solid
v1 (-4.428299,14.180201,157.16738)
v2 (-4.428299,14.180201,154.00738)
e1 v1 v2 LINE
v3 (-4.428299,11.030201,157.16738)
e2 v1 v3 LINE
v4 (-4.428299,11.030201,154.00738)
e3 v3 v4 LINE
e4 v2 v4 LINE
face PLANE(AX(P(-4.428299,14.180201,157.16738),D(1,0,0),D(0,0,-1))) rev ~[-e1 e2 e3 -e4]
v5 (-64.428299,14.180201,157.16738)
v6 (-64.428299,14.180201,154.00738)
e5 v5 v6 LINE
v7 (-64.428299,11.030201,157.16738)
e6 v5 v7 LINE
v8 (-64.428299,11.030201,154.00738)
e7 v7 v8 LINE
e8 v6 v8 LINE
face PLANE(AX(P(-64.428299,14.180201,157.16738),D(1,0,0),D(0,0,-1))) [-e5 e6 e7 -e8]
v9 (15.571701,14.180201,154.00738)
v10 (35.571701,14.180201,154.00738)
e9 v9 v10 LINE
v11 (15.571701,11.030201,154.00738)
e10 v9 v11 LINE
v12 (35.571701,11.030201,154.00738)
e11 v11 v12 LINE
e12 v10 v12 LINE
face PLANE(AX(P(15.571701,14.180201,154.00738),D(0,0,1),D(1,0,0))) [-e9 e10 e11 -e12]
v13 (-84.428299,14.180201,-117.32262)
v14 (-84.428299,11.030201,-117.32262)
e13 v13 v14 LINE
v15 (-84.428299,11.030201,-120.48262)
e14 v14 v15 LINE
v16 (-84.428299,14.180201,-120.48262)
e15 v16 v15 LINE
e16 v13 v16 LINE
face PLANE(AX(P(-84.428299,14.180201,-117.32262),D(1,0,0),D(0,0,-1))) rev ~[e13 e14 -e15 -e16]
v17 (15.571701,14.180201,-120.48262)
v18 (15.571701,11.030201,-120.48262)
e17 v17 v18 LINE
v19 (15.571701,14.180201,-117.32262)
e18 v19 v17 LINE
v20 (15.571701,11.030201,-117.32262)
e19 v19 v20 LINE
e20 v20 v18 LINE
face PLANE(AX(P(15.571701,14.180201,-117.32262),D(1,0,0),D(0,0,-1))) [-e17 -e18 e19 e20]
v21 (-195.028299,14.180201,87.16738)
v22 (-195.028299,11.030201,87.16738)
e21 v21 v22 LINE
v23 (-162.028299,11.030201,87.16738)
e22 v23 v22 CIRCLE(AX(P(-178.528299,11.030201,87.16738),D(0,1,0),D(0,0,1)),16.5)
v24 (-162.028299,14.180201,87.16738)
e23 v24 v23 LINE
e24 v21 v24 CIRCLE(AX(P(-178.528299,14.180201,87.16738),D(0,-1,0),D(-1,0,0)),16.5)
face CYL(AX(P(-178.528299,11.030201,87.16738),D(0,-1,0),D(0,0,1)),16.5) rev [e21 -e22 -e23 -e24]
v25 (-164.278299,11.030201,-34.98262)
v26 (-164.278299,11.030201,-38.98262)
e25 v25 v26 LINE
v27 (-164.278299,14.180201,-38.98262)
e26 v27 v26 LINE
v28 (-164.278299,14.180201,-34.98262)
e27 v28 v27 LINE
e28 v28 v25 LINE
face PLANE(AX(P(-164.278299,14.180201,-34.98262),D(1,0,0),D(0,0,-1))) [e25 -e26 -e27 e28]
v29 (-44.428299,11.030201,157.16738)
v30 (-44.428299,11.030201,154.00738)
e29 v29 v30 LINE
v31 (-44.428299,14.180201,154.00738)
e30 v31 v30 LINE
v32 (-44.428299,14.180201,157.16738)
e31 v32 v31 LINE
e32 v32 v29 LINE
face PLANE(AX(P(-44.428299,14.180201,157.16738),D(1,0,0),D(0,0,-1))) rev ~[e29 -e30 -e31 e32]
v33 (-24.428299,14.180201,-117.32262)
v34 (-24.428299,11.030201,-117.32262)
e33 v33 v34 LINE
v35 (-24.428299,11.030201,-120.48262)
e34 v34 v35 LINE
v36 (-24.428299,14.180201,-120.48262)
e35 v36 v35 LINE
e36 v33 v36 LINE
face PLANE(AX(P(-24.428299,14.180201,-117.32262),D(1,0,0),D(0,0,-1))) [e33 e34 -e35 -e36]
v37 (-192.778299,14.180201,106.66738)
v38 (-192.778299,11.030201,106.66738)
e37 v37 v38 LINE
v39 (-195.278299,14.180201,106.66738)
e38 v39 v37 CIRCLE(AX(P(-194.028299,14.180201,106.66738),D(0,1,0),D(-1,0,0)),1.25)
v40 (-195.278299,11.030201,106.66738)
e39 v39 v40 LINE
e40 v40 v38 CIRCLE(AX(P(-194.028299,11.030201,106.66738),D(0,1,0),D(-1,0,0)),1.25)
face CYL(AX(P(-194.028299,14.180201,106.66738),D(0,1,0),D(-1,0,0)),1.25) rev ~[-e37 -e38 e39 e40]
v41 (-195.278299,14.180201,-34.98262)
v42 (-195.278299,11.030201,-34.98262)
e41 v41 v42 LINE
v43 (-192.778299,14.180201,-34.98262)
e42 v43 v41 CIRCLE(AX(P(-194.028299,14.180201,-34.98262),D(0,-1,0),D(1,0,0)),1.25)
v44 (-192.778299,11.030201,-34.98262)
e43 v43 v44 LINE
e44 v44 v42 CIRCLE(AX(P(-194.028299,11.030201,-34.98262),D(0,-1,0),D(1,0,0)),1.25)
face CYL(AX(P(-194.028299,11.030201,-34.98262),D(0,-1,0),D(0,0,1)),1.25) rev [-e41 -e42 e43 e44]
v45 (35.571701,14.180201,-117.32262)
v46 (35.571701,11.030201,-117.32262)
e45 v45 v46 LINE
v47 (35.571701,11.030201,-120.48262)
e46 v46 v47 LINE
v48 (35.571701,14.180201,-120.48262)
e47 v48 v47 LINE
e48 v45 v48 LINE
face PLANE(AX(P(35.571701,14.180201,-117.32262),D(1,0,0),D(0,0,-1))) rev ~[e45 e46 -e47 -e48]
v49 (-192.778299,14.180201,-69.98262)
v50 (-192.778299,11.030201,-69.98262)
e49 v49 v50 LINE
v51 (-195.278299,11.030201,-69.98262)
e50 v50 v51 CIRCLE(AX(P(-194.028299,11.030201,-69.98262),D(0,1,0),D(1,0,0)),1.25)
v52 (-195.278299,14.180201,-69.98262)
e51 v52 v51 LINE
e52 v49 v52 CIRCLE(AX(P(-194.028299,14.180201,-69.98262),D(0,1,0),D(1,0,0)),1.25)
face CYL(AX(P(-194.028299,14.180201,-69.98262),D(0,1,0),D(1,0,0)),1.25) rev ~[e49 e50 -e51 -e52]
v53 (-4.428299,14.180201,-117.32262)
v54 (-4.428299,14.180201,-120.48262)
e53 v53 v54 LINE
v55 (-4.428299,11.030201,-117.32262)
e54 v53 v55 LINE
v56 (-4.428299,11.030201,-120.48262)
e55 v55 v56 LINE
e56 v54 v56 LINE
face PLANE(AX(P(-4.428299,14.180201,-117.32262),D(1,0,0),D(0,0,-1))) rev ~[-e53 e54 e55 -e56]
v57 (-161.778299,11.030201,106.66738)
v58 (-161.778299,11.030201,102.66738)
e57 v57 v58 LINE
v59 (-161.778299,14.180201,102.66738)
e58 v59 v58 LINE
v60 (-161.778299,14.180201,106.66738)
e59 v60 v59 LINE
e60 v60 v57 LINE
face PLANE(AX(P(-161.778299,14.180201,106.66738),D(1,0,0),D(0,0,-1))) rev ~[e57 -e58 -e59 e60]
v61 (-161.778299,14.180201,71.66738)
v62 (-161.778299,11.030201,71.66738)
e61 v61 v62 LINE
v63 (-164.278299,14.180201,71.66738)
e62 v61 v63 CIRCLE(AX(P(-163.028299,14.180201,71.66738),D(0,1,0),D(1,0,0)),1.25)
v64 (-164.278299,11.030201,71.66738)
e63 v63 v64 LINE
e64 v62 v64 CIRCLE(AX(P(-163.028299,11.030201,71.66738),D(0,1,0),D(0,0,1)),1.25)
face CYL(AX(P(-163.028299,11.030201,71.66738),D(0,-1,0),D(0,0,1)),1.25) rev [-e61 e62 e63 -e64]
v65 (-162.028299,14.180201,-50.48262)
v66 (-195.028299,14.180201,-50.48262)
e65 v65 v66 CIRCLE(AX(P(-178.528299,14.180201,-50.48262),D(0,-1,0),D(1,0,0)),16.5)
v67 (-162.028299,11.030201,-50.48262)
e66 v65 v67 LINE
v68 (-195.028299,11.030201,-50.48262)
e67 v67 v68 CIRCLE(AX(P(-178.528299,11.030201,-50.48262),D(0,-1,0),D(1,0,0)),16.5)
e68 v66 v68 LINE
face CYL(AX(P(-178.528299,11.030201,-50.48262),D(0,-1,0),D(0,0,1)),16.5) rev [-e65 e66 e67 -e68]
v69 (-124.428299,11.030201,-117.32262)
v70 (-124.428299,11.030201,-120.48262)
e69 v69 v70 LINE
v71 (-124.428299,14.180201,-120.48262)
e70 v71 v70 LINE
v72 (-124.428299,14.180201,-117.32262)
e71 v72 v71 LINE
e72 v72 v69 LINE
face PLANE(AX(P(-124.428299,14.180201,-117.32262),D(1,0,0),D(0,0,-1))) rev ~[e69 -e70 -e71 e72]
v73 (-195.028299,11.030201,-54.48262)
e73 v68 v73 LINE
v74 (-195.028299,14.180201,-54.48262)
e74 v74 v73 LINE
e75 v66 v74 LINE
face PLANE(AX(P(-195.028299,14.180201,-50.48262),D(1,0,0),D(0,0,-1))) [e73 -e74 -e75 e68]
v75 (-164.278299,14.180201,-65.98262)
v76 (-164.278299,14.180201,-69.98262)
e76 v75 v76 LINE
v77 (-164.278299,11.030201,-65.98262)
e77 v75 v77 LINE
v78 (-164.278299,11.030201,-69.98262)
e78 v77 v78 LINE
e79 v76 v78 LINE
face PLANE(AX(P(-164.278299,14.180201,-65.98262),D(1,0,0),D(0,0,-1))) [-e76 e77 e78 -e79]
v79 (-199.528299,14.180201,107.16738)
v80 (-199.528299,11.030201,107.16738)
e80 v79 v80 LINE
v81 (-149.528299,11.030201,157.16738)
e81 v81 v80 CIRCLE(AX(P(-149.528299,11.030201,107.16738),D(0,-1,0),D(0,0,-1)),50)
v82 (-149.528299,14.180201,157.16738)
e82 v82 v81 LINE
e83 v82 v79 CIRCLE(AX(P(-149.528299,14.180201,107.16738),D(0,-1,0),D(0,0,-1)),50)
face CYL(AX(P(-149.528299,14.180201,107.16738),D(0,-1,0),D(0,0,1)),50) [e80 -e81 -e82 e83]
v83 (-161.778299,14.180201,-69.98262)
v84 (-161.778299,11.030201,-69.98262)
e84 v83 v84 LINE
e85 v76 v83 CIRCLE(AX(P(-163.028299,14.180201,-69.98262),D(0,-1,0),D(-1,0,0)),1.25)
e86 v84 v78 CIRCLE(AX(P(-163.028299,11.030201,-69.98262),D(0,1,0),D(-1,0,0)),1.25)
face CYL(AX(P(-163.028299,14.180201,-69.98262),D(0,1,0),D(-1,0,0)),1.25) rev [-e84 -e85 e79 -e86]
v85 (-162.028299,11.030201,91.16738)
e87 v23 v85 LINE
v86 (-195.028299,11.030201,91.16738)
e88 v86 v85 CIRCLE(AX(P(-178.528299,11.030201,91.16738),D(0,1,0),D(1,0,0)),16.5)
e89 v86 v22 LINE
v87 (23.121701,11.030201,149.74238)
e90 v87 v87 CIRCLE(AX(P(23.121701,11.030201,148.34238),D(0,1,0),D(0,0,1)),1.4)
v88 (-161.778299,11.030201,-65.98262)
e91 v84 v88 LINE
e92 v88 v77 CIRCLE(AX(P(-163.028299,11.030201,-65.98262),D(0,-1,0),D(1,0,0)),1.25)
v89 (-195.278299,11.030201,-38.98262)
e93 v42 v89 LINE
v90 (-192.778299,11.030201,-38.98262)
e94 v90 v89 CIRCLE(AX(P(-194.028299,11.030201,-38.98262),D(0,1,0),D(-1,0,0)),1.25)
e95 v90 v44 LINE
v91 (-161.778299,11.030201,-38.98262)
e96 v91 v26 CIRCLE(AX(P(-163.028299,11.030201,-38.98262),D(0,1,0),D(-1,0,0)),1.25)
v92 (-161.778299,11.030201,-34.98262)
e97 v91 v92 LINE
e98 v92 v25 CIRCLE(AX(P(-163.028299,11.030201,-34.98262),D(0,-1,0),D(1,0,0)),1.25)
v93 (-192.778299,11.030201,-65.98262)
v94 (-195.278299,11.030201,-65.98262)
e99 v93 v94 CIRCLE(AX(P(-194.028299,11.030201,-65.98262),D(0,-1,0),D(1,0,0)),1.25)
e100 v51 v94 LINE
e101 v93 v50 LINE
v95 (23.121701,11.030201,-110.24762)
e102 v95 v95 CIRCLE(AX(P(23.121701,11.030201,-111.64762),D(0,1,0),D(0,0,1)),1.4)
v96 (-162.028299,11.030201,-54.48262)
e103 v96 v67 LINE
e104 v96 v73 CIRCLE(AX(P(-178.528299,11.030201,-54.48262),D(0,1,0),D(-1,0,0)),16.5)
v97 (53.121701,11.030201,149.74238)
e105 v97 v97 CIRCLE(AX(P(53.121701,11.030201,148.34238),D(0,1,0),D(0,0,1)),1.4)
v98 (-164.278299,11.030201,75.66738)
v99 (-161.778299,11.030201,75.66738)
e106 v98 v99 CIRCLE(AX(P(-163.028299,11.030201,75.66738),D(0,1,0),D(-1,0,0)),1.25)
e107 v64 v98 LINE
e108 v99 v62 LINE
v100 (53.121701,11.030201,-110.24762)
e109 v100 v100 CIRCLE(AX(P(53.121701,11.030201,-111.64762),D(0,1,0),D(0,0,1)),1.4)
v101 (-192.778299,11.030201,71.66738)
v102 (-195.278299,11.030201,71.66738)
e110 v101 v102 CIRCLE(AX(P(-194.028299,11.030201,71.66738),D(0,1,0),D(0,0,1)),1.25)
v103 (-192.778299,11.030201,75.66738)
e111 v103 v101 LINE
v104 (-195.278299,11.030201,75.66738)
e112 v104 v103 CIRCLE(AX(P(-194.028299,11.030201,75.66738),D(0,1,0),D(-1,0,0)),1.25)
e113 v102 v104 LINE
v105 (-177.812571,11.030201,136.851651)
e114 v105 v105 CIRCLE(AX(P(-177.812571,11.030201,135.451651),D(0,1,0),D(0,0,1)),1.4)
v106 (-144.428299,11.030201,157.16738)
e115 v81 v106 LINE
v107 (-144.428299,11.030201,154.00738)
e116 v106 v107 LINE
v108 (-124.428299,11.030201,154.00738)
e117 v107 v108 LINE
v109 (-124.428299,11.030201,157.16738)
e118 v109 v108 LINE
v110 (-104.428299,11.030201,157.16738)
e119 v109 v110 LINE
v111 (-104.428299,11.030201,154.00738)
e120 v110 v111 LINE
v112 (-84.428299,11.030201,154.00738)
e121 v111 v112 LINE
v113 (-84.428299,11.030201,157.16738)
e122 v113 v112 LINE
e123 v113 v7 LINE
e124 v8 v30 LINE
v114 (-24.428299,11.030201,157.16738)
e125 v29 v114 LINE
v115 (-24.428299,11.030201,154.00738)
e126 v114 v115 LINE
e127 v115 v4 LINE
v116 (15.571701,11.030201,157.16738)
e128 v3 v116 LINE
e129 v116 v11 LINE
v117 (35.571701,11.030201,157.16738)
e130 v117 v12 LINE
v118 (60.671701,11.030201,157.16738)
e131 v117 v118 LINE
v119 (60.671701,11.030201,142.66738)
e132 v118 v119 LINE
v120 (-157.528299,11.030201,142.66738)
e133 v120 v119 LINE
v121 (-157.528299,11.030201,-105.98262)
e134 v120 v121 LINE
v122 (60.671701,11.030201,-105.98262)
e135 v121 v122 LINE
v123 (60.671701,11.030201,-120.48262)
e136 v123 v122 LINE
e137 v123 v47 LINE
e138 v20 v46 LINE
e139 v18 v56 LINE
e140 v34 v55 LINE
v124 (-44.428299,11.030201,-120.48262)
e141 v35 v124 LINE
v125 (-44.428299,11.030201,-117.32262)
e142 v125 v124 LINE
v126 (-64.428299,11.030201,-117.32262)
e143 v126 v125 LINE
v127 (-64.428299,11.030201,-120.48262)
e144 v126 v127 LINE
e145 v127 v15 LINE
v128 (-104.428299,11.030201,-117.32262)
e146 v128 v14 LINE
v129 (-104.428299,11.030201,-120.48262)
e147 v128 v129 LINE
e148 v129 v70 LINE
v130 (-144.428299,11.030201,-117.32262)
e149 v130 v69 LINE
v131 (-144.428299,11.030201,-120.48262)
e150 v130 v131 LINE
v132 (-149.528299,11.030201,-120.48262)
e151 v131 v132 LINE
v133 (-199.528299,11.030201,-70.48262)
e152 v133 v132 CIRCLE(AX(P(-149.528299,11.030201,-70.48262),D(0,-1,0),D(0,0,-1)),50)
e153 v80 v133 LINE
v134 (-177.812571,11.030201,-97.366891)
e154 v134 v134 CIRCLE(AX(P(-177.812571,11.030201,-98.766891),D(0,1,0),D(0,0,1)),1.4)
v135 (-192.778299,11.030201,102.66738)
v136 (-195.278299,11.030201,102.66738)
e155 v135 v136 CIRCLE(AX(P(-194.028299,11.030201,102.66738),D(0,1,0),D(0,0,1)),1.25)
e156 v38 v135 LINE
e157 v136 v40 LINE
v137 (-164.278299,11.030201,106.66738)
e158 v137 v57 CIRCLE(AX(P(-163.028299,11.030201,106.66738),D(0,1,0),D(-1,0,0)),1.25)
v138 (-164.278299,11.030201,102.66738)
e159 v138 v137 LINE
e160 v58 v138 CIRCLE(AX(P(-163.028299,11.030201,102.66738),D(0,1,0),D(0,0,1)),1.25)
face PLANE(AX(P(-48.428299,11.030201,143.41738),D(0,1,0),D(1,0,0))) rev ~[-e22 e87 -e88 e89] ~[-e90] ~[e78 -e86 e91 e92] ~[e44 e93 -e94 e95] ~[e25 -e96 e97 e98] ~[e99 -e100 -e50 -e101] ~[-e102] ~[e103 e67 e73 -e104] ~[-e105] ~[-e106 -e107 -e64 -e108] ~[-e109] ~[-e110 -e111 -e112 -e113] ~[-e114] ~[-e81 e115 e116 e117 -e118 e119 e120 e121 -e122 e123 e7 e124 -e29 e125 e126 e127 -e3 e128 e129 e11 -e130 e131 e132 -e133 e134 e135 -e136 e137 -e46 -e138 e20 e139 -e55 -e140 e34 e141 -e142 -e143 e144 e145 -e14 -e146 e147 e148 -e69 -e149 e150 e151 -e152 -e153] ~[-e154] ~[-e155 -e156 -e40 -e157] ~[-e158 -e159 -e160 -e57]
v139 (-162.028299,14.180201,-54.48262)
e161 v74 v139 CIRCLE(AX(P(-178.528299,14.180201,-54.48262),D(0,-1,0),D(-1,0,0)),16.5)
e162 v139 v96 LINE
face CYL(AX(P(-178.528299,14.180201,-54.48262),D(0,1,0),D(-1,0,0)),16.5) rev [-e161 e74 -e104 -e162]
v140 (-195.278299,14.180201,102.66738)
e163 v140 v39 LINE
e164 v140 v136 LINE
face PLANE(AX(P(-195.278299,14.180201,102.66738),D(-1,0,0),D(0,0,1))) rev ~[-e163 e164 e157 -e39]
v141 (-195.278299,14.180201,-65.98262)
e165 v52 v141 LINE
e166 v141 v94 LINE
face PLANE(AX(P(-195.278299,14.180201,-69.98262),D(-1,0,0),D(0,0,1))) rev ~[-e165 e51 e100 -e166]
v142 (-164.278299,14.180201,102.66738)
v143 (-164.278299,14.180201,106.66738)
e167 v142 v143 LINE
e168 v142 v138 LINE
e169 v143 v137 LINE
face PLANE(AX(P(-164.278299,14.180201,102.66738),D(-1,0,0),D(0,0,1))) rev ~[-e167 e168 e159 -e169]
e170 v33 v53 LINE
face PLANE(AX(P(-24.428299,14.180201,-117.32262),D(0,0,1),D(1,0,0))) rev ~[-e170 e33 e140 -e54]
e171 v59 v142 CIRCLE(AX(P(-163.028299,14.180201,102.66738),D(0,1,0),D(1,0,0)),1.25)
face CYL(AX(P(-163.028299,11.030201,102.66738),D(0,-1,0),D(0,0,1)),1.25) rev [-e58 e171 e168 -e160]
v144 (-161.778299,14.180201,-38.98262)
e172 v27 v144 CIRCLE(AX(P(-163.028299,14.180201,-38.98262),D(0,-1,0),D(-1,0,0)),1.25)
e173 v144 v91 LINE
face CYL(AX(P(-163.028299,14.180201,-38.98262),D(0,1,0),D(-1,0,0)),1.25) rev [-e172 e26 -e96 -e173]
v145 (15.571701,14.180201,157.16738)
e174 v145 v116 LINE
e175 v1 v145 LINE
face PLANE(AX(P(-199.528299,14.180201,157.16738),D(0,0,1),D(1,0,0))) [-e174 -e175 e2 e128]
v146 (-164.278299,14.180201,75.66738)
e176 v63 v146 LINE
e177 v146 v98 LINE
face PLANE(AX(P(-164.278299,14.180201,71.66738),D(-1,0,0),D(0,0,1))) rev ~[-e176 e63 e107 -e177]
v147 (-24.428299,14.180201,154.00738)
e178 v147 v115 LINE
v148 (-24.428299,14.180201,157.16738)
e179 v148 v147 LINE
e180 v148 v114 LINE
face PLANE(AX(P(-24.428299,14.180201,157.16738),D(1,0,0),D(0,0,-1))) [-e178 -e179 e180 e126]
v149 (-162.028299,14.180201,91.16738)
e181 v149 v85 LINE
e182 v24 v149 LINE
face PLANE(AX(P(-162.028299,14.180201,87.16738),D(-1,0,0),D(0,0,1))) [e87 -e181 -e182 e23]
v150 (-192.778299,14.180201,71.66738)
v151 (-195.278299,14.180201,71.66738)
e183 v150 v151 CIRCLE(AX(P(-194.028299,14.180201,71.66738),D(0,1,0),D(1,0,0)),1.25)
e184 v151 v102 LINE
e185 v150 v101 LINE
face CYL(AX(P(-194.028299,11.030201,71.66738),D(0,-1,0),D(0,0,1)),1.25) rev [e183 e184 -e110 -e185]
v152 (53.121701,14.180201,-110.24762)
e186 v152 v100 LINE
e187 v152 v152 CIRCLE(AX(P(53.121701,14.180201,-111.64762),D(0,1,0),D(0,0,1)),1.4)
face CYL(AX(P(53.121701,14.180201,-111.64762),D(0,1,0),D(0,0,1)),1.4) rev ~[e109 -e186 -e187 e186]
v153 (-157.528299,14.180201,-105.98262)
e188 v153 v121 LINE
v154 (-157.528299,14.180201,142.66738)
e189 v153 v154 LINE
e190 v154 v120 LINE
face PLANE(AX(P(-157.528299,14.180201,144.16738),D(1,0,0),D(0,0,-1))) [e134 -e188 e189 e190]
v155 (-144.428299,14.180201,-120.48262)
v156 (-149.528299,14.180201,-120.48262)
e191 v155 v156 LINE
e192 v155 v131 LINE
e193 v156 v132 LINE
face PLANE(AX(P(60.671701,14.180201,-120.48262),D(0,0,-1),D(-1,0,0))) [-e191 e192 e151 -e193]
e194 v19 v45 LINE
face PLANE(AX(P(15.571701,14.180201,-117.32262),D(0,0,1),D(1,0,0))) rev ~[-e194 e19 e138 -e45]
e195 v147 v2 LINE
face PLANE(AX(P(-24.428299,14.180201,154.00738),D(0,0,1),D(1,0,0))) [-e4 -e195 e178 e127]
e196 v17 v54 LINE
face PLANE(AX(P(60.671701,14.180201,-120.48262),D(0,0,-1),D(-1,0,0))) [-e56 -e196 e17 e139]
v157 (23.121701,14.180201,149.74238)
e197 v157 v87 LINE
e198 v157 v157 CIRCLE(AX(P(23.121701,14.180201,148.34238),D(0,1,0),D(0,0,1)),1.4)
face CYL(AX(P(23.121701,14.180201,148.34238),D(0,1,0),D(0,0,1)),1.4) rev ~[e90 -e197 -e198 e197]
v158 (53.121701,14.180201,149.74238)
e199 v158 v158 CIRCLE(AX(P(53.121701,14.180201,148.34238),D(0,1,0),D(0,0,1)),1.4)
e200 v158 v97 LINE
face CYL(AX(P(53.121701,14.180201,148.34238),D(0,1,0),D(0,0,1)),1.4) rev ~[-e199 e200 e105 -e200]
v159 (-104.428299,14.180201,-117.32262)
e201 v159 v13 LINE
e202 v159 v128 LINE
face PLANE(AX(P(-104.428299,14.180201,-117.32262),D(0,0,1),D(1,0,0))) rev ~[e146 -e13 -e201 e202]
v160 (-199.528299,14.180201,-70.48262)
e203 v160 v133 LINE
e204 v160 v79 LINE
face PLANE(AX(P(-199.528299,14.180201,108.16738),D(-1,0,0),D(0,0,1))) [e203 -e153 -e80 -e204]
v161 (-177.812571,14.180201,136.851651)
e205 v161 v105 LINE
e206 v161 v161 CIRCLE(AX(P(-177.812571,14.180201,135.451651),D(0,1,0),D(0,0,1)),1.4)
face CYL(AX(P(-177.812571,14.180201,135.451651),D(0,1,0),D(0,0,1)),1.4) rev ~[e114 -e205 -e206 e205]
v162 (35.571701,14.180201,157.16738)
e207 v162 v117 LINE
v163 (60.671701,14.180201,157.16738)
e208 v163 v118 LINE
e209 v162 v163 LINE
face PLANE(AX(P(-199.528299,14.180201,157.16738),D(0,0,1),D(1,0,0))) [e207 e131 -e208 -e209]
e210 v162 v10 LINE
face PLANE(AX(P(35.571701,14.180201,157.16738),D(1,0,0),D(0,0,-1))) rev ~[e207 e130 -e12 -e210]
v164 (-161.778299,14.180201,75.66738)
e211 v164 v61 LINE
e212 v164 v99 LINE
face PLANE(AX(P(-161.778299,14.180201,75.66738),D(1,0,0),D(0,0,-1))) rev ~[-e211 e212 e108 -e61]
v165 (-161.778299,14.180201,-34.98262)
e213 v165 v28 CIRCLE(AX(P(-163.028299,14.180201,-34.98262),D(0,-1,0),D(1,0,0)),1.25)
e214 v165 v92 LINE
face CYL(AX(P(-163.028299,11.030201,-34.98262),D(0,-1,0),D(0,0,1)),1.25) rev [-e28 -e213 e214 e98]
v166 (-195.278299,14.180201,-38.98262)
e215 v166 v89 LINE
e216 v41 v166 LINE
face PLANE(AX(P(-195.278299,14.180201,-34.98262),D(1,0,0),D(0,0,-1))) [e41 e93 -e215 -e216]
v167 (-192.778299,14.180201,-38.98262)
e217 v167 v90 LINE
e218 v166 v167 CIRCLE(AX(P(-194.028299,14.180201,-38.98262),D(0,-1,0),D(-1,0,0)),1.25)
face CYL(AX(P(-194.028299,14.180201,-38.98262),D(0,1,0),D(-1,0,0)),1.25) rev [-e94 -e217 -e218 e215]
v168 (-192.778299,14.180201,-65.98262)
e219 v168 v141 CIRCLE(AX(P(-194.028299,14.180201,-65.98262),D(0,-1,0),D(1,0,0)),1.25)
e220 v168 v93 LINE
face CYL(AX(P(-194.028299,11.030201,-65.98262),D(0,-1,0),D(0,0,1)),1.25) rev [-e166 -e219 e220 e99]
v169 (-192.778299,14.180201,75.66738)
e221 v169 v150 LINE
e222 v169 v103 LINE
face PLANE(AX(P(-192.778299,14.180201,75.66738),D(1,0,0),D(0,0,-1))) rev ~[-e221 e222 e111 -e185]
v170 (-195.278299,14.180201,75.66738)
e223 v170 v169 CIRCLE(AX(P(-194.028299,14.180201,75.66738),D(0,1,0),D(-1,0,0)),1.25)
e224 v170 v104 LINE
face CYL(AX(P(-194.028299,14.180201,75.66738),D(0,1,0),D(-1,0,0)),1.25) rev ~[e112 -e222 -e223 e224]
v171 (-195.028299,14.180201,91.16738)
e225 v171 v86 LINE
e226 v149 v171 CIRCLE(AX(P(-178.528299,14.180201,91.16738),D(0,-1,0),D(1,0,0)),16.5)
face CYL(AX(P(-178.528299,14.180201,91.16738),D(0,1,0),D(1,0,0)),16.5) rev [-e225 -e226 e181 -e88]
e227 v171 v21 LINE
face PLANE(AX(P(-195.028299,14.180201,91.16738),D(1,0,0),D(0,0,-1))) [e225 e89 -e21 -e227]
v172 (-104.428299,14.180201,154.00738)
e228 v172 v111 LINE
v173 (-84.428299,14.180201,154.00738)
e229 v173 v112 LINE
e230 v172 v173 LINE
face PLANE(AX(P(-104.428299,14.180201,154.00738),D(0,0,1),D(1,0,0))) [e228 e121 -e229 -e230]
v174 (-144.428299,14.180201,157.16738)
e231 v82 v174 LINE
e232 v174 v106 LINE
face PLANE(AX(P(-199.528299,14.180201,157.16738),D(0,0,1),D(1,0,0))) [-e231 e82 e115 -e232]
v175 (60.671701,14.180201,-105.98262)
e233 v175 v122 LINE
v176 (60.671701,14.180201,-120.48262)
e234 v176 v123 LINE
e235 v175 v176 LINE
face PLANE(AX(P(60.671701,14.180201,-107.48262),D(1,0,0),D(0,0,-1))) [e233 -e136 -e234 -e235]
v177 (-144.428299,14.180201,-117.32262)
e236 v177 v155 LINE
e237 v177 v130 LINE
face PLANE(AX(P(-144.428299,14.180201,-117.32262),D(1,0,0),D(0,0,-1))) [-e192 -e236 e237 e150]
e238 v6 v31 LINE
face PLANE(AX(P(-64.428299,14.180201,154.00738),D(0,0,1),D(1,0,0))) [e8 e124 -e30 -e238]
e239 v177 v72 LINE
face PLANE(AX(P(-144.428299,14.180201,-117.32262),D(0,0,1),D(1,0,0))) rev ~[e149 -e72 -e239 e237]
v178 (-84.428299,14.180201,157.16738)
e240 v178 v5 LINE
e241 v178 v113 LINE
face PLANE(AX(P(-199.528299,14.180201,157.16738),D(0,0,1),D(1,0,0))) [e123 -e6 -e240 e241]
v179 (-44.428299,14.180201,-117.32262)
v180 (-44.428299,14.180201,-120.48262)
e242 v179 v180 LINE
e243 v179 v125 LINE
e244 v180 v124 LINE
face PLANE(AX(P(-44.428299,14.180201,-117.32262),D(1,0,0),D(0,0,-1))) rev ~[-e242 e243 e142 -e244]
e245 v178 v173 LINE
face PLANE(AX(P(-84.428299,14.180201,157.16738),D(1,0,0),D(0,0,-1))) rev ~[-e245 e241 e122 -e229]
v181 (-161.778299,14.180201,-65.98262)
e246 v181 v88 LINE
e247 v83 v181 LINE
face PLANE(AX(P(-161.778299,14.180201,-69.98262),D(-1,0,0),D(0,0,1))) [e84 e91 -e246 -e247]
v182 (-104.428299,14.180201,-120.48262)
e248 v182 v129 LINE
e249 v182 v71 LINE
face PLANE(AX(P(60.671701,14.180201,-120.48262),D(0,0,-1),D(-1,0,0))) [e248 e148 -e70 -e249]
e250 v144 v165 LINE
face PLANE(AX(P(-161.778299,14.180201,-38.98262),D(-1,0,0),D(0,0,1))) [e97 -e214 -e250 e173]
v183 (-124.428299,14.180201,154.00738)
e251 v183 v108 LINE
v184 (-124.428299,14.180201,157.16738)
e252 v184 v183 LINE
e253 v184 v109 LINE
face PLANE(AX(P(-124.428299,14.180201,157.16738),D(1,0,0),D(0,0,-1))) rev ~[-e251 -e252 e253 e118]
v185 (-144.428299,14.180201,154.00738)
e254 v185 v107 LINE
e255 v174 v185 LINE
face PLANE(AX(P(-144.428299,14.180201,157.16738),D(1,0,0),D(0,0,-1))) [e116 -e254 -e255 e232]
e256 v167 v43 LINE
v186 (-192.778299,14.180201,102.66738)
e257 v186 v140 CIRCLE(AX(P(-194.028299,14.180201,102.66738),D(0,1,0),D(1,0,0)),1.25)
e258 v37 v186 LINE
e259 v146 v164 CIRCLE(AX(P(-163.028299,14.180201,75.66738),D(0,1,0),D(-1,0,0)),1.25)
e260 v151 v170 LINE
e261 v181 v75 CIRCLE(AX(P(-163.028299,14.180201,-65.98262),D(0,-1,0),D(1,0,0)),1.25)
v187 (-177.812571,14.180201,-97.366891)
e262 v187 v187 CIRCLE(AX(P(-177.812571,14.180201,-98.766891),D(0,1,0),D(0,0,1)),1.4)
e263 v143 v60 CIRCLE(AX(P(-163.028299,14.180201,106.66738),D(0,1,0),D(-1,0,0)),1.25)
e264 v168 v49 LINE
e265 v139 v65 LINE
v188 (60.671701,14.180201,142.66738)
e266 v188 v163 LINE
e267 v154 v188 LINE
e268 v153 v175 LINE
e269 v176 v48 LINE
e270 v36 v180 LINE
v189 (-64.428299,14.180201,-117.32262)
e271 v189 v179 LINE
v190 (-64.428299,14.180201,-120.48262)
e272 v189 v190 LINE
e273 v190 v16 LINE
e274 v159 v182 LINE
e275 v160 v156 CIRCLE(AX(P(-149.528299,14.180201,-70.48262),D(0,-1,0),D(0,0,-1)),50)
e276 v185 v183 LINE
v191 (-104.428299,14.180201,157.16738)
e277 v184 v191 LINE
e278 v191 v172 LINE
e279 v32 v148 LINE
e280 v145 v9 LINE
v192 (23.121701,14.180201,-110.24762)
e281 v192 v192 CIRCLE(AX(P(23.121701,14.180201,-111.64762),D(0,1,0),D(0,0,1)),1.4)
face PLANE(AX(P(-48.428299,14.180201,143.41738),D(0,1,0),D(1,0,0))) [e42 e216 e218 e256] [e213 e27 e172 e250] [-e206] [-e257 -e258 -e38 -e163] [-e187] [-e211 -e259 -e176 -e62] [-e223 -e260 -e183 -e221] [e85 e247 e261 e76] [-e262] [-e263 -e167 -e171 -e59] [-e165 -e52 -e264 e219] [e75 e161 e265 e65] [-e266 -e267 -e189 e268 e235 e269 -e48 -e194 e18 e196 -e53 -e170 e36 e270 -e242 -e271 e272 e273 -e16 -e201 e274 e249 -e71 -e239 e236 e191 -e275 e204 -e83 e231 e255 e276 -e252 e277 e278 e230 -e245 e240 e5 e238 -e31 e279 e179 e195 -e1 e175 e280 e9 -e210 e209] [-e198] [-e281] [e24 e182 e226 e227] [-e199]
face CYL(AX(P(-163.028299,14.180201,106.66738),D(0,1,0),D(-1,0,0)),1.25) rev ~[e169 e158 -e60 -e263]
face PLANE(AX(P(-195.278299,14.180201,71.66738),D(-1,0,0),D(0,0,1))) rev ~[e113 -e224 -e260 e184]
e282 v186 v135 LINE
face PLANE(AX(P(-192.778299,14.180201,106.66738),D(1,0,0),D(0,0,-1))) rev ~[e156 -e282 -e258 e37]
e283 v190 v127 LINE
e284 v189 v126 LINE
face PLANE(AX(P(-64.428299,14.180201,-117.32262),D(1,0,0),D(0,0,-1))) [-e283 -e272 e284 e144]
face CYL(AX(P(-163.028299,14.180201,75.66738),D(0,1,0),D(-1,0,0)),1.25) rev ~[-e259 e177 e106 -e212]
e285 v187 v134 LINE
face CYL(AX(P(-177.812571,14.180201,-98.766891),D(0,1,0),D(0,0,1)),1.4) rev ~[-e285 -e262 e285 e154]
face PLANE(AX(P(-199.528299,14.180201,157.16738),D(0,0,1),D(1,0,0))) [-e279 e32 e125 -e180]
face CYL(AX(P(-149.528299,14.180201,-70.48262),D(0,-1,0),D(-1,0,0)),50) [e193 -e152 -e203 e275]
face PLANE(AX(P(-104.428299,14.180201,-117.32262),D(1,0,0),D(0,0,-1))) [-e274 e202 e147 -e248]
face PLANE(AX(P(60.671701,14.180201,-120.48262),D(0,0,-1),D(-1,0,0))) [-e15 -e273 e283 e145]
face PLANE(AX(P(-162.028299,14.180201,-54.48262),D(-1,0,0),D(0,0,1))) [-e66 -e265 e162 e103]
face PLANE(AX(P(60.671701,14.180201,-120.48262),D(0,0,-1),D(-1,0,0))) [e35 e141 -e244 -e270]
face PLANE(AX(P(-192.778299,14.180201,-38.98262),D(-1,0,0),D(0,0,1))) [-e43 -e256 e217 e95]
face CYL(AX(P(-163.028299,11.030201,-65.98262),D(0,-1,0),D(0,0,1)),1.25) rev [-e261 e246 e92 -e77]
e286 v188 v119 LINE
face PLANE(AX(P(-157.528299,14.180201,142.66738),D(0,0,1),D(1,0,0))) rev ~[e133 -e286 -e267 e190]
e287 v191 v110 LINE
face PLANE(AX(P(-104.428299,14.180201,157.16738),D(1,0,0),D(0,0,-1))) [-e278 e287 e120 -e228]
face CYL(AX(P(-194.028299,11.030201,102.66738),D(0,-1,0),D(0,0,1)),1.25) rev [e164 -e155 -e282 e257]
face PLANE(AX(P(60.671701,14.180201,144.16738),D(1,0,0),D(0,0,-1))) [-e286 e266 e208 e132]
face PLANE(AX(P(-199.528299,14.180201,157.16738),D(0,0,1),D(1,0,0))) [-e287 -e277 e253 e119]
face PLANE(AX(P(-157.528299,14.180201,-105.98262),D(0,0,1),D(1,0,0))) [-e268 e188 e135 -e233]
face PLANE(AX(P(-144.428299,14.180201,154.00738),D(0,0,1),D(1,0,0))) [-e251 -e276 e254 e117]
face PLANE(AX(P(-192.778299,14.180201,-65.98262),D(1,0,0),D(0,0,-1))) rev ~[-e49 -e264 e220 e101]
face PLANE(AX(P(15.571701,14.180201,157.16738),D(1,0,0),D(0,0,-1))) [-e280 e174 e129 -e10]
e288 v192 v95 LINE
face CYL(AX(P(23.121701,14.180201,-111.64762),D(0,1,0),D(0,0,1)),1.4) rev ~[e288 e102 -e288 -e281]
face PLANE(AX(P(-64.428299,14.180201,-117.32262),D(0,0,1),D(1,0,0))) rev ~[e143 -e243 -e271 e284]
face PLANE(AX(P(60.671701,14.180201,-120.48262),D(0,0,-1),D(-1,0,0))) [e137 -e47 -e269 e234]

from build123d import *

# Parameters (mm, degrees)
SKETCH1_R           = 1.25
SKETCH1_R_2         = 16.5
BOSS_EXTRUDE1_DEPTH = 3.15
SKETCH2_W           = 42
SKETCH2_H           = 34
BOSS_EXTRUDE2_DEPTH = 3.15
FILLET1_R           = 50
SKETCH3_W           = 20
SKETCH3_H           = 3.16
CUT_EXTRUDE1_DEPTH  = 255.013877696
SKETCH4_R           = 1.4
CUT_EXTRUDE2_DEPTH  = 10
SKETCH5_R           = 1.4
CUT_EXTRUDE3_DEPTH  = 10
CUT_EXTRUDE4_DEPTH  = 255.013877696
SKETCH8_W           = 218.2
SKETCH8_H           = 1.5
BOSS_EXTRUDE3_DEPTH = 3.15


with BuildPart() as part:
    # Sketch1 → Boss-Extrude1 (new body)
    with BuildSketch(Plane(origin=(0, 11.030201327, 0), x_dir=(1, 0, 0), z_dir=(0, 1, 0))):
        Polygon((-162.156726515, -108.167379901), (-194.899872265, -108.167379901), (-199.52829939, -108.167379901), (-199.52829939, 34.111047224), (-199.52829939, 66.854192974), (-199.52829939, 71.482620099), (-194.899872265, 71.482620099), (-162.156726515, 71.482620099), (-157.52829939, 71.482620099), (-157.52829939, -108.167379901), align=None)
        with Locations(Location((-163.02829939, 65.982620099, 0), (0, 0, 270))):
            Circle(SKETCH1_R, mode=Mode.SUBTRACT)
        with Locations(Location((-163.02829939, 34.982620099, 0), (0, 0, 270))):
            Circle(SKETCH1_R, mode=Mode.SUBTRACT)
        with Locations(Location((-194.02829939, 34.982620099, 0), (0, 0, 270))):
            Circle(SKETCH1_R, mode=Mode.SUBTRACT)
        with Locations(Location((-194.02829939, 65.982620099, 0), (0, 0, 270))):
            Circle(SKETCH1_R, mode=Mode.SUBTRACT)
        with Locations(Location((-163.02829939, -102.667379901, 0), (0, 0, 270))):
            Circle(SKETCH1_R, mode=Mode.SUBTRACT)
        with Locations(Location((-163.02829939, -71.667379901, 0), (0, 0, 270))):
            Circle(SKETCH1_R, mode=Mode.SUBTRACT)
        with Locations(Location((-194.02829939, -102.667379901, 0), (0, 0, 270))):
            Circle(SKETCH1_R, mode=Mode.SUBTRACT)
        with Locations(Location((-194.02829939, -71.667379901, 0), (0, 0, 270))):
            Circle(SKETCH1_R, mode=Mode.SUBTRACT)
        with Locations(Location((-178.52829939, -87.167379901, 0), (0, 0, 270))):
            Circle(SKETCH1_R_2, mode=Mode.SUBTRACT)
        with Locations(Location((-178.52829939, 50.482620099, 0), (0, 0, 270))):
            Circle(SKETCH1_R_2, mode=Mode.SUBTRACT)
    extrude(amount=BOSS_EXTRUDE1_DEPTH)

    # Sketch2 → Boss-Extrude2 (add)
    with BuildSketch(Plane(origin=(0, 14.180201327, 0), x_dir=(1, 0, 0), z_dir=(0, 1, 0))):
        Polygon((-157.52829939, -144.167379901), (-157.52829939, -142.167379901), (-157.52829939, -108.167379901), (-199.52829939, -108.167379901), (-199.52829939, -142.167379901), (-199.52829939, -157.167379901), (-157.52829939, -157.167379901), (60.67170061, -157.167379901), (60.67170061, -144.167379901), (45.67170061, -144.167379901), align=None)
        with Locations((-178.52829939, 88.482620099)):
            Rectangle(SKETCH2_W, SKETCH2_H)
        Polygon((-199.52829939, 105.482620099), (-157.52829939, 105.482620099), (-157.52829939, 107.482620099), (45.67170061, 107.482620099), (60.67170061, 107.482620099), (60.67170061, 120.482620099), (-157.52829939, 120.482620099), (-199.52829939, 120.482620099), align=None)
    extrude(amount=-BOSS_EXTRUDE2_DEPTH)

    # Fillet1
    fillet1_edges = [part.edges().sort_by_distance(p)[0] for p in [
        (-199.52829939, 12.605201327, 157.167379901),
        (-199.52829939, 12.605201327, -120.482620099),
    ]]
    fillet(fillet1_edges, radius=FILLET1_R)

    # Sketch3 → Cut-Extrude1 (cut, through all)
    with BuildSketch(Plane(origin=(0, 14.180201327, 0), x_dir=(1, 0, 0), z_dir=(0, 1, 0))):
        with Locations((-94.42829939, 118.902620099)):
            Rectangle(SKETCH3_W, SKETCH3_H)
        with Locations((-134.42829939, 118.902620099)):
            Rectangle(SKETCH3_W, SKETCH3_H)
        with Locations((-54.42829939, 118.902620099)):
            Rectangle(SKETCH3_W, SKETCH3_H)
        with Locations((-14.42829939, 118.902620099)):
            Rectangle(SKETCH3_W, SKETCH3_H)
        with Locations((25.57170061, 118.902620099)):
            Rectangle(SKETCH3_W, SKETCH3_H)
        with Locations((25.57170061, -155.587379901)):
            Rectangle(SKETCH3_W, SKETCH3_H)
        with Locations((-14.42829939, -155.587379901)):
            Rectangle(SKETCH3_W, SKETCH3_H)
        with Locations((-54.42829939, -155.587379901)):
            Rectangle(SKETCH3_W, SKETCH3_H)
        with Locations((-94.42829939, -155.587379901)):
            Rectangle(SKETCH3_W, SKETCH3_H)
        with Locations((-134.42829939, -155.587379901)):
            Rectangle(SKETCH3_W, SKETCH3_H)
    extrude(amount=-CUT_EXTRUDE1_DEPTH, mode=Mode.SUBTRACT)

    # Sketch4 → Cut-Extrude2 (cut)
    with BuildSketch(Plane(origin=(0, 14.180201327, 0), x_dir=(1, 0, 0), z_dir=(0, 1, 0))):
        with Locations(Location((-177.812570637, 98.766891346, 0), (0, 0, 270))):
            Circle(SKETCH4_R)
        with Locations(Location((-177.812570637, -135.451651148, 0), (0, 0, 270))):
            Circle(SKETCH4_R)
    extrude(amount=-CUT_EXTRUDE2_DEPTH, mode=Mode.SUBTRACT)

    # Sketch5 → Cut-Extrude3 (cut)
    with BuildSketch(Plane(origin=(0, 14.180201327, 0), x_dir=(1, 0, 0), z_dir=(0, 1, 0))):
        with Locations(Location((53.12170061, 111.647620099, 0), (0, 0, 270))):
            Circle(SKETCH5_R)
        with Locations(Location((53.12170061, -148.342379901, 0), (0, 0, 270))):
            Circle(SKETCH5_R)
        with Locations(Location((23.12170061, 111.647620099, 0), (0, 0, 270))):
            Circle(SKETCH5_R)
        with Locations(Location((23.12170061, -148.342379901, 0), (0, 0, 270))):
            Circle(SKETCH5_R)
    extrude(amount=-CUT_EXTRUDE3_DEPTH, mode=Mode.SUBTRACT)

    # Sketch6 → Cut-Extrude4 (cut, through all)
    with BuildSketch(Plane(origin=(0, 14.180201327, 0), x_dir=(1, 0, 0), z_dir=(0, 1, 0))):
        with BuildLine():
            Line((-161.77829939, 69.982620099), (-161.77829939, 65.982620099))
            ThreePointArc((-161.77829939, 65.982620099), (-163.02829939, 64.732620099), (-164.27829939, 65.982620099))
            Line((-164.27829939, 65.982620099), (-164.27829939, 69.982620099))
            ThreePointArc((-164.27829939, 69.982620099), (-163.02829939, 71.232620099), (-161.77829939, 69.982620099))
        make_face()
        with BuildLine():
            Line((-161.77829939, 38.982620099), (-161.77829939, 34.982620099))
            ThreePointArc((-161.77829939, 34.982620099), (-163.02829939, 33.732620099), (-164.27829939, 34.982620099))
            Line((-164.27829939, 34.982620099), (-164.27829939, 38.982620099))
            ThreePointArc((-164.27829939, 38.982620099), (-163.02829939, 40.232620099), (-161.77829939, 38.982620099))
        make_face()
        with BuildLine():
            Line((-192.77829939, 38.982620099), (-192.77829939, 34.982620099))
            ThreePointArc((-192.77829939, 34.982620099), (-194.02829939, 33.732620099), (-195.27829939, 34.982620099))
            Line((-195.27829939, 34.982620099), (-195.27829939, 38.982620099))
            ThreePointArc((-195.27829939, 38.982620099), (-194.02829939, 40.232620099), (-192.77829939, 38.982620099))
        make_face()
        with BuildLine():
            Line((-195.27829939, 69.982620099), (-195.27829939, 65.982620099))
            ThreePointArc((-195.27829939, 65.982620099), (-194.02829939, 64.732620099), (-192.77829939, 65.982620099))
            Line((-192.77829939, 65.982620099), (-192.77829939, 69.982620099))
            ThreePointArc((-192.77829939, 69.982620099), (-194.02829939, 71.232620099), (-195.27829939, 69.982620099))
        make_face()
        with BuildLine():
            Line((-162.02829939, 54.482620099), (-162.02829939, 50.482620099))
            ThreePointArc((-162.02829939, 50.482620099), (-178.52829939, 33.982620099), (-195.02829939, 50.482620099))
            Line((-195.02829939, 50.482620099), (-195.02829939, 54.482620099))
            ThreePointArc((-195.02829939, 54.482620099), (-178.52829939, 70.982620099), (-162.02829939, 54.482620099))
        make_face()
        with BuildLine():
            Line((-195.02829939, -91.167379901), (-195.02829939, -87.167379901))
            ThreePointArc((-195.02829939, -87.167379901), (-178.52829939, -70.667379901), (-162.02829939, -87.167379901))
            Line((-162.02829939, -87.167379901), (-162.02829939, -91.167379901))
            ThreePointArc((-162.02829939, -91.167379901), (-178.52829939, -107.667379901), (-195.02829939, -91.167379901))
        make_face()
        with BuildLine():
            Line((-192.77829939, -106.667379901), (-192.77829939, -102.667379901))
            ThreePointArc((-192.77829939, -102.667379901), (-194.02829939, -101.417379901), (-195.27829939, -102.667379901))
            Line((-195.27829939, -102.667379901), (-195.27829939, -106.667379901))
            ThreePointArc((-195.27829939, -106.667379901), (-194.02829939, -107.917379901), (-192.77829939, -106.667379901))
        make_face()
        with BuildLine():
            Line((-195.27829939, -71.667379901), (-195.27829939, -75.667379901))
            ThreePointArc((-195.27829939, -75.667379901), (-194.02829939, -76.917379901), (-192.77829939, -75.667379901))
            Line((-192.77829939, -75.667379901), (-192.77829939, -71.667379901))
            ThreePointArc((-192.77829939, -71.667379901), (-194.02829939, -70.417379901), (-195.27829939, -71.667379901))
        make_face()
        with BuildLine():
            Line((-164.27829939, -71.667379901), (-164.27829939, -75.667379901))
            ThreePointArc((-164.27829939, -75.667379901), (-163.02829939, -76.917379901), (-161.77829939, -75.667379901))
            Line((-161.77829939, -75.667379901), (-161.77829939, -71.667379901))
            ThreePointArc((-161.77829939, -71.667379901), (-163.02829939, -70.417379901), (-164.27829939, -71.667379901))
        make_face()
        with BuildLine():
            Line((-164.27829939, -102.667379901), (-164.27829939, -106.667379901))
            ThreePointArc((-164.27829939, -106.667379901), (-163.02829939, -107.917379901), (-161.77829939, -106.667379901))
            Line((-161.77829939, -106.667379901), (-161.77829939, -102.667379901))
            ThreePointArc((-161.77829939, -102.667379901), (-163.02829939, -101.417379901), (-164.27829939, -102.667379901))
        make_face()
    extrude(amount=-CUT_EXTRUDE4_DEPTH, mode=Mode.SUBTRACT)

    # Sketch8 → Boss-Extrude3 (add)
    with BuildSketch(Plane(origin=(0, 14.180201327, 0), x_dir=(1, 0, 0), z_dir=(0, 1, 0))):
        with Locations((-48.42829939, -143.417379901)):
            Rectangle(SKETCH8_W, SKETCH8_H)
        with Locations((-48.42829939, 106.732620099)):
            Rectangle(SKETCH8_W, SKETCH8_H)
    extrude(amount=-BOSS_EXTRUDE3_DEPTH)


solid = part.part
